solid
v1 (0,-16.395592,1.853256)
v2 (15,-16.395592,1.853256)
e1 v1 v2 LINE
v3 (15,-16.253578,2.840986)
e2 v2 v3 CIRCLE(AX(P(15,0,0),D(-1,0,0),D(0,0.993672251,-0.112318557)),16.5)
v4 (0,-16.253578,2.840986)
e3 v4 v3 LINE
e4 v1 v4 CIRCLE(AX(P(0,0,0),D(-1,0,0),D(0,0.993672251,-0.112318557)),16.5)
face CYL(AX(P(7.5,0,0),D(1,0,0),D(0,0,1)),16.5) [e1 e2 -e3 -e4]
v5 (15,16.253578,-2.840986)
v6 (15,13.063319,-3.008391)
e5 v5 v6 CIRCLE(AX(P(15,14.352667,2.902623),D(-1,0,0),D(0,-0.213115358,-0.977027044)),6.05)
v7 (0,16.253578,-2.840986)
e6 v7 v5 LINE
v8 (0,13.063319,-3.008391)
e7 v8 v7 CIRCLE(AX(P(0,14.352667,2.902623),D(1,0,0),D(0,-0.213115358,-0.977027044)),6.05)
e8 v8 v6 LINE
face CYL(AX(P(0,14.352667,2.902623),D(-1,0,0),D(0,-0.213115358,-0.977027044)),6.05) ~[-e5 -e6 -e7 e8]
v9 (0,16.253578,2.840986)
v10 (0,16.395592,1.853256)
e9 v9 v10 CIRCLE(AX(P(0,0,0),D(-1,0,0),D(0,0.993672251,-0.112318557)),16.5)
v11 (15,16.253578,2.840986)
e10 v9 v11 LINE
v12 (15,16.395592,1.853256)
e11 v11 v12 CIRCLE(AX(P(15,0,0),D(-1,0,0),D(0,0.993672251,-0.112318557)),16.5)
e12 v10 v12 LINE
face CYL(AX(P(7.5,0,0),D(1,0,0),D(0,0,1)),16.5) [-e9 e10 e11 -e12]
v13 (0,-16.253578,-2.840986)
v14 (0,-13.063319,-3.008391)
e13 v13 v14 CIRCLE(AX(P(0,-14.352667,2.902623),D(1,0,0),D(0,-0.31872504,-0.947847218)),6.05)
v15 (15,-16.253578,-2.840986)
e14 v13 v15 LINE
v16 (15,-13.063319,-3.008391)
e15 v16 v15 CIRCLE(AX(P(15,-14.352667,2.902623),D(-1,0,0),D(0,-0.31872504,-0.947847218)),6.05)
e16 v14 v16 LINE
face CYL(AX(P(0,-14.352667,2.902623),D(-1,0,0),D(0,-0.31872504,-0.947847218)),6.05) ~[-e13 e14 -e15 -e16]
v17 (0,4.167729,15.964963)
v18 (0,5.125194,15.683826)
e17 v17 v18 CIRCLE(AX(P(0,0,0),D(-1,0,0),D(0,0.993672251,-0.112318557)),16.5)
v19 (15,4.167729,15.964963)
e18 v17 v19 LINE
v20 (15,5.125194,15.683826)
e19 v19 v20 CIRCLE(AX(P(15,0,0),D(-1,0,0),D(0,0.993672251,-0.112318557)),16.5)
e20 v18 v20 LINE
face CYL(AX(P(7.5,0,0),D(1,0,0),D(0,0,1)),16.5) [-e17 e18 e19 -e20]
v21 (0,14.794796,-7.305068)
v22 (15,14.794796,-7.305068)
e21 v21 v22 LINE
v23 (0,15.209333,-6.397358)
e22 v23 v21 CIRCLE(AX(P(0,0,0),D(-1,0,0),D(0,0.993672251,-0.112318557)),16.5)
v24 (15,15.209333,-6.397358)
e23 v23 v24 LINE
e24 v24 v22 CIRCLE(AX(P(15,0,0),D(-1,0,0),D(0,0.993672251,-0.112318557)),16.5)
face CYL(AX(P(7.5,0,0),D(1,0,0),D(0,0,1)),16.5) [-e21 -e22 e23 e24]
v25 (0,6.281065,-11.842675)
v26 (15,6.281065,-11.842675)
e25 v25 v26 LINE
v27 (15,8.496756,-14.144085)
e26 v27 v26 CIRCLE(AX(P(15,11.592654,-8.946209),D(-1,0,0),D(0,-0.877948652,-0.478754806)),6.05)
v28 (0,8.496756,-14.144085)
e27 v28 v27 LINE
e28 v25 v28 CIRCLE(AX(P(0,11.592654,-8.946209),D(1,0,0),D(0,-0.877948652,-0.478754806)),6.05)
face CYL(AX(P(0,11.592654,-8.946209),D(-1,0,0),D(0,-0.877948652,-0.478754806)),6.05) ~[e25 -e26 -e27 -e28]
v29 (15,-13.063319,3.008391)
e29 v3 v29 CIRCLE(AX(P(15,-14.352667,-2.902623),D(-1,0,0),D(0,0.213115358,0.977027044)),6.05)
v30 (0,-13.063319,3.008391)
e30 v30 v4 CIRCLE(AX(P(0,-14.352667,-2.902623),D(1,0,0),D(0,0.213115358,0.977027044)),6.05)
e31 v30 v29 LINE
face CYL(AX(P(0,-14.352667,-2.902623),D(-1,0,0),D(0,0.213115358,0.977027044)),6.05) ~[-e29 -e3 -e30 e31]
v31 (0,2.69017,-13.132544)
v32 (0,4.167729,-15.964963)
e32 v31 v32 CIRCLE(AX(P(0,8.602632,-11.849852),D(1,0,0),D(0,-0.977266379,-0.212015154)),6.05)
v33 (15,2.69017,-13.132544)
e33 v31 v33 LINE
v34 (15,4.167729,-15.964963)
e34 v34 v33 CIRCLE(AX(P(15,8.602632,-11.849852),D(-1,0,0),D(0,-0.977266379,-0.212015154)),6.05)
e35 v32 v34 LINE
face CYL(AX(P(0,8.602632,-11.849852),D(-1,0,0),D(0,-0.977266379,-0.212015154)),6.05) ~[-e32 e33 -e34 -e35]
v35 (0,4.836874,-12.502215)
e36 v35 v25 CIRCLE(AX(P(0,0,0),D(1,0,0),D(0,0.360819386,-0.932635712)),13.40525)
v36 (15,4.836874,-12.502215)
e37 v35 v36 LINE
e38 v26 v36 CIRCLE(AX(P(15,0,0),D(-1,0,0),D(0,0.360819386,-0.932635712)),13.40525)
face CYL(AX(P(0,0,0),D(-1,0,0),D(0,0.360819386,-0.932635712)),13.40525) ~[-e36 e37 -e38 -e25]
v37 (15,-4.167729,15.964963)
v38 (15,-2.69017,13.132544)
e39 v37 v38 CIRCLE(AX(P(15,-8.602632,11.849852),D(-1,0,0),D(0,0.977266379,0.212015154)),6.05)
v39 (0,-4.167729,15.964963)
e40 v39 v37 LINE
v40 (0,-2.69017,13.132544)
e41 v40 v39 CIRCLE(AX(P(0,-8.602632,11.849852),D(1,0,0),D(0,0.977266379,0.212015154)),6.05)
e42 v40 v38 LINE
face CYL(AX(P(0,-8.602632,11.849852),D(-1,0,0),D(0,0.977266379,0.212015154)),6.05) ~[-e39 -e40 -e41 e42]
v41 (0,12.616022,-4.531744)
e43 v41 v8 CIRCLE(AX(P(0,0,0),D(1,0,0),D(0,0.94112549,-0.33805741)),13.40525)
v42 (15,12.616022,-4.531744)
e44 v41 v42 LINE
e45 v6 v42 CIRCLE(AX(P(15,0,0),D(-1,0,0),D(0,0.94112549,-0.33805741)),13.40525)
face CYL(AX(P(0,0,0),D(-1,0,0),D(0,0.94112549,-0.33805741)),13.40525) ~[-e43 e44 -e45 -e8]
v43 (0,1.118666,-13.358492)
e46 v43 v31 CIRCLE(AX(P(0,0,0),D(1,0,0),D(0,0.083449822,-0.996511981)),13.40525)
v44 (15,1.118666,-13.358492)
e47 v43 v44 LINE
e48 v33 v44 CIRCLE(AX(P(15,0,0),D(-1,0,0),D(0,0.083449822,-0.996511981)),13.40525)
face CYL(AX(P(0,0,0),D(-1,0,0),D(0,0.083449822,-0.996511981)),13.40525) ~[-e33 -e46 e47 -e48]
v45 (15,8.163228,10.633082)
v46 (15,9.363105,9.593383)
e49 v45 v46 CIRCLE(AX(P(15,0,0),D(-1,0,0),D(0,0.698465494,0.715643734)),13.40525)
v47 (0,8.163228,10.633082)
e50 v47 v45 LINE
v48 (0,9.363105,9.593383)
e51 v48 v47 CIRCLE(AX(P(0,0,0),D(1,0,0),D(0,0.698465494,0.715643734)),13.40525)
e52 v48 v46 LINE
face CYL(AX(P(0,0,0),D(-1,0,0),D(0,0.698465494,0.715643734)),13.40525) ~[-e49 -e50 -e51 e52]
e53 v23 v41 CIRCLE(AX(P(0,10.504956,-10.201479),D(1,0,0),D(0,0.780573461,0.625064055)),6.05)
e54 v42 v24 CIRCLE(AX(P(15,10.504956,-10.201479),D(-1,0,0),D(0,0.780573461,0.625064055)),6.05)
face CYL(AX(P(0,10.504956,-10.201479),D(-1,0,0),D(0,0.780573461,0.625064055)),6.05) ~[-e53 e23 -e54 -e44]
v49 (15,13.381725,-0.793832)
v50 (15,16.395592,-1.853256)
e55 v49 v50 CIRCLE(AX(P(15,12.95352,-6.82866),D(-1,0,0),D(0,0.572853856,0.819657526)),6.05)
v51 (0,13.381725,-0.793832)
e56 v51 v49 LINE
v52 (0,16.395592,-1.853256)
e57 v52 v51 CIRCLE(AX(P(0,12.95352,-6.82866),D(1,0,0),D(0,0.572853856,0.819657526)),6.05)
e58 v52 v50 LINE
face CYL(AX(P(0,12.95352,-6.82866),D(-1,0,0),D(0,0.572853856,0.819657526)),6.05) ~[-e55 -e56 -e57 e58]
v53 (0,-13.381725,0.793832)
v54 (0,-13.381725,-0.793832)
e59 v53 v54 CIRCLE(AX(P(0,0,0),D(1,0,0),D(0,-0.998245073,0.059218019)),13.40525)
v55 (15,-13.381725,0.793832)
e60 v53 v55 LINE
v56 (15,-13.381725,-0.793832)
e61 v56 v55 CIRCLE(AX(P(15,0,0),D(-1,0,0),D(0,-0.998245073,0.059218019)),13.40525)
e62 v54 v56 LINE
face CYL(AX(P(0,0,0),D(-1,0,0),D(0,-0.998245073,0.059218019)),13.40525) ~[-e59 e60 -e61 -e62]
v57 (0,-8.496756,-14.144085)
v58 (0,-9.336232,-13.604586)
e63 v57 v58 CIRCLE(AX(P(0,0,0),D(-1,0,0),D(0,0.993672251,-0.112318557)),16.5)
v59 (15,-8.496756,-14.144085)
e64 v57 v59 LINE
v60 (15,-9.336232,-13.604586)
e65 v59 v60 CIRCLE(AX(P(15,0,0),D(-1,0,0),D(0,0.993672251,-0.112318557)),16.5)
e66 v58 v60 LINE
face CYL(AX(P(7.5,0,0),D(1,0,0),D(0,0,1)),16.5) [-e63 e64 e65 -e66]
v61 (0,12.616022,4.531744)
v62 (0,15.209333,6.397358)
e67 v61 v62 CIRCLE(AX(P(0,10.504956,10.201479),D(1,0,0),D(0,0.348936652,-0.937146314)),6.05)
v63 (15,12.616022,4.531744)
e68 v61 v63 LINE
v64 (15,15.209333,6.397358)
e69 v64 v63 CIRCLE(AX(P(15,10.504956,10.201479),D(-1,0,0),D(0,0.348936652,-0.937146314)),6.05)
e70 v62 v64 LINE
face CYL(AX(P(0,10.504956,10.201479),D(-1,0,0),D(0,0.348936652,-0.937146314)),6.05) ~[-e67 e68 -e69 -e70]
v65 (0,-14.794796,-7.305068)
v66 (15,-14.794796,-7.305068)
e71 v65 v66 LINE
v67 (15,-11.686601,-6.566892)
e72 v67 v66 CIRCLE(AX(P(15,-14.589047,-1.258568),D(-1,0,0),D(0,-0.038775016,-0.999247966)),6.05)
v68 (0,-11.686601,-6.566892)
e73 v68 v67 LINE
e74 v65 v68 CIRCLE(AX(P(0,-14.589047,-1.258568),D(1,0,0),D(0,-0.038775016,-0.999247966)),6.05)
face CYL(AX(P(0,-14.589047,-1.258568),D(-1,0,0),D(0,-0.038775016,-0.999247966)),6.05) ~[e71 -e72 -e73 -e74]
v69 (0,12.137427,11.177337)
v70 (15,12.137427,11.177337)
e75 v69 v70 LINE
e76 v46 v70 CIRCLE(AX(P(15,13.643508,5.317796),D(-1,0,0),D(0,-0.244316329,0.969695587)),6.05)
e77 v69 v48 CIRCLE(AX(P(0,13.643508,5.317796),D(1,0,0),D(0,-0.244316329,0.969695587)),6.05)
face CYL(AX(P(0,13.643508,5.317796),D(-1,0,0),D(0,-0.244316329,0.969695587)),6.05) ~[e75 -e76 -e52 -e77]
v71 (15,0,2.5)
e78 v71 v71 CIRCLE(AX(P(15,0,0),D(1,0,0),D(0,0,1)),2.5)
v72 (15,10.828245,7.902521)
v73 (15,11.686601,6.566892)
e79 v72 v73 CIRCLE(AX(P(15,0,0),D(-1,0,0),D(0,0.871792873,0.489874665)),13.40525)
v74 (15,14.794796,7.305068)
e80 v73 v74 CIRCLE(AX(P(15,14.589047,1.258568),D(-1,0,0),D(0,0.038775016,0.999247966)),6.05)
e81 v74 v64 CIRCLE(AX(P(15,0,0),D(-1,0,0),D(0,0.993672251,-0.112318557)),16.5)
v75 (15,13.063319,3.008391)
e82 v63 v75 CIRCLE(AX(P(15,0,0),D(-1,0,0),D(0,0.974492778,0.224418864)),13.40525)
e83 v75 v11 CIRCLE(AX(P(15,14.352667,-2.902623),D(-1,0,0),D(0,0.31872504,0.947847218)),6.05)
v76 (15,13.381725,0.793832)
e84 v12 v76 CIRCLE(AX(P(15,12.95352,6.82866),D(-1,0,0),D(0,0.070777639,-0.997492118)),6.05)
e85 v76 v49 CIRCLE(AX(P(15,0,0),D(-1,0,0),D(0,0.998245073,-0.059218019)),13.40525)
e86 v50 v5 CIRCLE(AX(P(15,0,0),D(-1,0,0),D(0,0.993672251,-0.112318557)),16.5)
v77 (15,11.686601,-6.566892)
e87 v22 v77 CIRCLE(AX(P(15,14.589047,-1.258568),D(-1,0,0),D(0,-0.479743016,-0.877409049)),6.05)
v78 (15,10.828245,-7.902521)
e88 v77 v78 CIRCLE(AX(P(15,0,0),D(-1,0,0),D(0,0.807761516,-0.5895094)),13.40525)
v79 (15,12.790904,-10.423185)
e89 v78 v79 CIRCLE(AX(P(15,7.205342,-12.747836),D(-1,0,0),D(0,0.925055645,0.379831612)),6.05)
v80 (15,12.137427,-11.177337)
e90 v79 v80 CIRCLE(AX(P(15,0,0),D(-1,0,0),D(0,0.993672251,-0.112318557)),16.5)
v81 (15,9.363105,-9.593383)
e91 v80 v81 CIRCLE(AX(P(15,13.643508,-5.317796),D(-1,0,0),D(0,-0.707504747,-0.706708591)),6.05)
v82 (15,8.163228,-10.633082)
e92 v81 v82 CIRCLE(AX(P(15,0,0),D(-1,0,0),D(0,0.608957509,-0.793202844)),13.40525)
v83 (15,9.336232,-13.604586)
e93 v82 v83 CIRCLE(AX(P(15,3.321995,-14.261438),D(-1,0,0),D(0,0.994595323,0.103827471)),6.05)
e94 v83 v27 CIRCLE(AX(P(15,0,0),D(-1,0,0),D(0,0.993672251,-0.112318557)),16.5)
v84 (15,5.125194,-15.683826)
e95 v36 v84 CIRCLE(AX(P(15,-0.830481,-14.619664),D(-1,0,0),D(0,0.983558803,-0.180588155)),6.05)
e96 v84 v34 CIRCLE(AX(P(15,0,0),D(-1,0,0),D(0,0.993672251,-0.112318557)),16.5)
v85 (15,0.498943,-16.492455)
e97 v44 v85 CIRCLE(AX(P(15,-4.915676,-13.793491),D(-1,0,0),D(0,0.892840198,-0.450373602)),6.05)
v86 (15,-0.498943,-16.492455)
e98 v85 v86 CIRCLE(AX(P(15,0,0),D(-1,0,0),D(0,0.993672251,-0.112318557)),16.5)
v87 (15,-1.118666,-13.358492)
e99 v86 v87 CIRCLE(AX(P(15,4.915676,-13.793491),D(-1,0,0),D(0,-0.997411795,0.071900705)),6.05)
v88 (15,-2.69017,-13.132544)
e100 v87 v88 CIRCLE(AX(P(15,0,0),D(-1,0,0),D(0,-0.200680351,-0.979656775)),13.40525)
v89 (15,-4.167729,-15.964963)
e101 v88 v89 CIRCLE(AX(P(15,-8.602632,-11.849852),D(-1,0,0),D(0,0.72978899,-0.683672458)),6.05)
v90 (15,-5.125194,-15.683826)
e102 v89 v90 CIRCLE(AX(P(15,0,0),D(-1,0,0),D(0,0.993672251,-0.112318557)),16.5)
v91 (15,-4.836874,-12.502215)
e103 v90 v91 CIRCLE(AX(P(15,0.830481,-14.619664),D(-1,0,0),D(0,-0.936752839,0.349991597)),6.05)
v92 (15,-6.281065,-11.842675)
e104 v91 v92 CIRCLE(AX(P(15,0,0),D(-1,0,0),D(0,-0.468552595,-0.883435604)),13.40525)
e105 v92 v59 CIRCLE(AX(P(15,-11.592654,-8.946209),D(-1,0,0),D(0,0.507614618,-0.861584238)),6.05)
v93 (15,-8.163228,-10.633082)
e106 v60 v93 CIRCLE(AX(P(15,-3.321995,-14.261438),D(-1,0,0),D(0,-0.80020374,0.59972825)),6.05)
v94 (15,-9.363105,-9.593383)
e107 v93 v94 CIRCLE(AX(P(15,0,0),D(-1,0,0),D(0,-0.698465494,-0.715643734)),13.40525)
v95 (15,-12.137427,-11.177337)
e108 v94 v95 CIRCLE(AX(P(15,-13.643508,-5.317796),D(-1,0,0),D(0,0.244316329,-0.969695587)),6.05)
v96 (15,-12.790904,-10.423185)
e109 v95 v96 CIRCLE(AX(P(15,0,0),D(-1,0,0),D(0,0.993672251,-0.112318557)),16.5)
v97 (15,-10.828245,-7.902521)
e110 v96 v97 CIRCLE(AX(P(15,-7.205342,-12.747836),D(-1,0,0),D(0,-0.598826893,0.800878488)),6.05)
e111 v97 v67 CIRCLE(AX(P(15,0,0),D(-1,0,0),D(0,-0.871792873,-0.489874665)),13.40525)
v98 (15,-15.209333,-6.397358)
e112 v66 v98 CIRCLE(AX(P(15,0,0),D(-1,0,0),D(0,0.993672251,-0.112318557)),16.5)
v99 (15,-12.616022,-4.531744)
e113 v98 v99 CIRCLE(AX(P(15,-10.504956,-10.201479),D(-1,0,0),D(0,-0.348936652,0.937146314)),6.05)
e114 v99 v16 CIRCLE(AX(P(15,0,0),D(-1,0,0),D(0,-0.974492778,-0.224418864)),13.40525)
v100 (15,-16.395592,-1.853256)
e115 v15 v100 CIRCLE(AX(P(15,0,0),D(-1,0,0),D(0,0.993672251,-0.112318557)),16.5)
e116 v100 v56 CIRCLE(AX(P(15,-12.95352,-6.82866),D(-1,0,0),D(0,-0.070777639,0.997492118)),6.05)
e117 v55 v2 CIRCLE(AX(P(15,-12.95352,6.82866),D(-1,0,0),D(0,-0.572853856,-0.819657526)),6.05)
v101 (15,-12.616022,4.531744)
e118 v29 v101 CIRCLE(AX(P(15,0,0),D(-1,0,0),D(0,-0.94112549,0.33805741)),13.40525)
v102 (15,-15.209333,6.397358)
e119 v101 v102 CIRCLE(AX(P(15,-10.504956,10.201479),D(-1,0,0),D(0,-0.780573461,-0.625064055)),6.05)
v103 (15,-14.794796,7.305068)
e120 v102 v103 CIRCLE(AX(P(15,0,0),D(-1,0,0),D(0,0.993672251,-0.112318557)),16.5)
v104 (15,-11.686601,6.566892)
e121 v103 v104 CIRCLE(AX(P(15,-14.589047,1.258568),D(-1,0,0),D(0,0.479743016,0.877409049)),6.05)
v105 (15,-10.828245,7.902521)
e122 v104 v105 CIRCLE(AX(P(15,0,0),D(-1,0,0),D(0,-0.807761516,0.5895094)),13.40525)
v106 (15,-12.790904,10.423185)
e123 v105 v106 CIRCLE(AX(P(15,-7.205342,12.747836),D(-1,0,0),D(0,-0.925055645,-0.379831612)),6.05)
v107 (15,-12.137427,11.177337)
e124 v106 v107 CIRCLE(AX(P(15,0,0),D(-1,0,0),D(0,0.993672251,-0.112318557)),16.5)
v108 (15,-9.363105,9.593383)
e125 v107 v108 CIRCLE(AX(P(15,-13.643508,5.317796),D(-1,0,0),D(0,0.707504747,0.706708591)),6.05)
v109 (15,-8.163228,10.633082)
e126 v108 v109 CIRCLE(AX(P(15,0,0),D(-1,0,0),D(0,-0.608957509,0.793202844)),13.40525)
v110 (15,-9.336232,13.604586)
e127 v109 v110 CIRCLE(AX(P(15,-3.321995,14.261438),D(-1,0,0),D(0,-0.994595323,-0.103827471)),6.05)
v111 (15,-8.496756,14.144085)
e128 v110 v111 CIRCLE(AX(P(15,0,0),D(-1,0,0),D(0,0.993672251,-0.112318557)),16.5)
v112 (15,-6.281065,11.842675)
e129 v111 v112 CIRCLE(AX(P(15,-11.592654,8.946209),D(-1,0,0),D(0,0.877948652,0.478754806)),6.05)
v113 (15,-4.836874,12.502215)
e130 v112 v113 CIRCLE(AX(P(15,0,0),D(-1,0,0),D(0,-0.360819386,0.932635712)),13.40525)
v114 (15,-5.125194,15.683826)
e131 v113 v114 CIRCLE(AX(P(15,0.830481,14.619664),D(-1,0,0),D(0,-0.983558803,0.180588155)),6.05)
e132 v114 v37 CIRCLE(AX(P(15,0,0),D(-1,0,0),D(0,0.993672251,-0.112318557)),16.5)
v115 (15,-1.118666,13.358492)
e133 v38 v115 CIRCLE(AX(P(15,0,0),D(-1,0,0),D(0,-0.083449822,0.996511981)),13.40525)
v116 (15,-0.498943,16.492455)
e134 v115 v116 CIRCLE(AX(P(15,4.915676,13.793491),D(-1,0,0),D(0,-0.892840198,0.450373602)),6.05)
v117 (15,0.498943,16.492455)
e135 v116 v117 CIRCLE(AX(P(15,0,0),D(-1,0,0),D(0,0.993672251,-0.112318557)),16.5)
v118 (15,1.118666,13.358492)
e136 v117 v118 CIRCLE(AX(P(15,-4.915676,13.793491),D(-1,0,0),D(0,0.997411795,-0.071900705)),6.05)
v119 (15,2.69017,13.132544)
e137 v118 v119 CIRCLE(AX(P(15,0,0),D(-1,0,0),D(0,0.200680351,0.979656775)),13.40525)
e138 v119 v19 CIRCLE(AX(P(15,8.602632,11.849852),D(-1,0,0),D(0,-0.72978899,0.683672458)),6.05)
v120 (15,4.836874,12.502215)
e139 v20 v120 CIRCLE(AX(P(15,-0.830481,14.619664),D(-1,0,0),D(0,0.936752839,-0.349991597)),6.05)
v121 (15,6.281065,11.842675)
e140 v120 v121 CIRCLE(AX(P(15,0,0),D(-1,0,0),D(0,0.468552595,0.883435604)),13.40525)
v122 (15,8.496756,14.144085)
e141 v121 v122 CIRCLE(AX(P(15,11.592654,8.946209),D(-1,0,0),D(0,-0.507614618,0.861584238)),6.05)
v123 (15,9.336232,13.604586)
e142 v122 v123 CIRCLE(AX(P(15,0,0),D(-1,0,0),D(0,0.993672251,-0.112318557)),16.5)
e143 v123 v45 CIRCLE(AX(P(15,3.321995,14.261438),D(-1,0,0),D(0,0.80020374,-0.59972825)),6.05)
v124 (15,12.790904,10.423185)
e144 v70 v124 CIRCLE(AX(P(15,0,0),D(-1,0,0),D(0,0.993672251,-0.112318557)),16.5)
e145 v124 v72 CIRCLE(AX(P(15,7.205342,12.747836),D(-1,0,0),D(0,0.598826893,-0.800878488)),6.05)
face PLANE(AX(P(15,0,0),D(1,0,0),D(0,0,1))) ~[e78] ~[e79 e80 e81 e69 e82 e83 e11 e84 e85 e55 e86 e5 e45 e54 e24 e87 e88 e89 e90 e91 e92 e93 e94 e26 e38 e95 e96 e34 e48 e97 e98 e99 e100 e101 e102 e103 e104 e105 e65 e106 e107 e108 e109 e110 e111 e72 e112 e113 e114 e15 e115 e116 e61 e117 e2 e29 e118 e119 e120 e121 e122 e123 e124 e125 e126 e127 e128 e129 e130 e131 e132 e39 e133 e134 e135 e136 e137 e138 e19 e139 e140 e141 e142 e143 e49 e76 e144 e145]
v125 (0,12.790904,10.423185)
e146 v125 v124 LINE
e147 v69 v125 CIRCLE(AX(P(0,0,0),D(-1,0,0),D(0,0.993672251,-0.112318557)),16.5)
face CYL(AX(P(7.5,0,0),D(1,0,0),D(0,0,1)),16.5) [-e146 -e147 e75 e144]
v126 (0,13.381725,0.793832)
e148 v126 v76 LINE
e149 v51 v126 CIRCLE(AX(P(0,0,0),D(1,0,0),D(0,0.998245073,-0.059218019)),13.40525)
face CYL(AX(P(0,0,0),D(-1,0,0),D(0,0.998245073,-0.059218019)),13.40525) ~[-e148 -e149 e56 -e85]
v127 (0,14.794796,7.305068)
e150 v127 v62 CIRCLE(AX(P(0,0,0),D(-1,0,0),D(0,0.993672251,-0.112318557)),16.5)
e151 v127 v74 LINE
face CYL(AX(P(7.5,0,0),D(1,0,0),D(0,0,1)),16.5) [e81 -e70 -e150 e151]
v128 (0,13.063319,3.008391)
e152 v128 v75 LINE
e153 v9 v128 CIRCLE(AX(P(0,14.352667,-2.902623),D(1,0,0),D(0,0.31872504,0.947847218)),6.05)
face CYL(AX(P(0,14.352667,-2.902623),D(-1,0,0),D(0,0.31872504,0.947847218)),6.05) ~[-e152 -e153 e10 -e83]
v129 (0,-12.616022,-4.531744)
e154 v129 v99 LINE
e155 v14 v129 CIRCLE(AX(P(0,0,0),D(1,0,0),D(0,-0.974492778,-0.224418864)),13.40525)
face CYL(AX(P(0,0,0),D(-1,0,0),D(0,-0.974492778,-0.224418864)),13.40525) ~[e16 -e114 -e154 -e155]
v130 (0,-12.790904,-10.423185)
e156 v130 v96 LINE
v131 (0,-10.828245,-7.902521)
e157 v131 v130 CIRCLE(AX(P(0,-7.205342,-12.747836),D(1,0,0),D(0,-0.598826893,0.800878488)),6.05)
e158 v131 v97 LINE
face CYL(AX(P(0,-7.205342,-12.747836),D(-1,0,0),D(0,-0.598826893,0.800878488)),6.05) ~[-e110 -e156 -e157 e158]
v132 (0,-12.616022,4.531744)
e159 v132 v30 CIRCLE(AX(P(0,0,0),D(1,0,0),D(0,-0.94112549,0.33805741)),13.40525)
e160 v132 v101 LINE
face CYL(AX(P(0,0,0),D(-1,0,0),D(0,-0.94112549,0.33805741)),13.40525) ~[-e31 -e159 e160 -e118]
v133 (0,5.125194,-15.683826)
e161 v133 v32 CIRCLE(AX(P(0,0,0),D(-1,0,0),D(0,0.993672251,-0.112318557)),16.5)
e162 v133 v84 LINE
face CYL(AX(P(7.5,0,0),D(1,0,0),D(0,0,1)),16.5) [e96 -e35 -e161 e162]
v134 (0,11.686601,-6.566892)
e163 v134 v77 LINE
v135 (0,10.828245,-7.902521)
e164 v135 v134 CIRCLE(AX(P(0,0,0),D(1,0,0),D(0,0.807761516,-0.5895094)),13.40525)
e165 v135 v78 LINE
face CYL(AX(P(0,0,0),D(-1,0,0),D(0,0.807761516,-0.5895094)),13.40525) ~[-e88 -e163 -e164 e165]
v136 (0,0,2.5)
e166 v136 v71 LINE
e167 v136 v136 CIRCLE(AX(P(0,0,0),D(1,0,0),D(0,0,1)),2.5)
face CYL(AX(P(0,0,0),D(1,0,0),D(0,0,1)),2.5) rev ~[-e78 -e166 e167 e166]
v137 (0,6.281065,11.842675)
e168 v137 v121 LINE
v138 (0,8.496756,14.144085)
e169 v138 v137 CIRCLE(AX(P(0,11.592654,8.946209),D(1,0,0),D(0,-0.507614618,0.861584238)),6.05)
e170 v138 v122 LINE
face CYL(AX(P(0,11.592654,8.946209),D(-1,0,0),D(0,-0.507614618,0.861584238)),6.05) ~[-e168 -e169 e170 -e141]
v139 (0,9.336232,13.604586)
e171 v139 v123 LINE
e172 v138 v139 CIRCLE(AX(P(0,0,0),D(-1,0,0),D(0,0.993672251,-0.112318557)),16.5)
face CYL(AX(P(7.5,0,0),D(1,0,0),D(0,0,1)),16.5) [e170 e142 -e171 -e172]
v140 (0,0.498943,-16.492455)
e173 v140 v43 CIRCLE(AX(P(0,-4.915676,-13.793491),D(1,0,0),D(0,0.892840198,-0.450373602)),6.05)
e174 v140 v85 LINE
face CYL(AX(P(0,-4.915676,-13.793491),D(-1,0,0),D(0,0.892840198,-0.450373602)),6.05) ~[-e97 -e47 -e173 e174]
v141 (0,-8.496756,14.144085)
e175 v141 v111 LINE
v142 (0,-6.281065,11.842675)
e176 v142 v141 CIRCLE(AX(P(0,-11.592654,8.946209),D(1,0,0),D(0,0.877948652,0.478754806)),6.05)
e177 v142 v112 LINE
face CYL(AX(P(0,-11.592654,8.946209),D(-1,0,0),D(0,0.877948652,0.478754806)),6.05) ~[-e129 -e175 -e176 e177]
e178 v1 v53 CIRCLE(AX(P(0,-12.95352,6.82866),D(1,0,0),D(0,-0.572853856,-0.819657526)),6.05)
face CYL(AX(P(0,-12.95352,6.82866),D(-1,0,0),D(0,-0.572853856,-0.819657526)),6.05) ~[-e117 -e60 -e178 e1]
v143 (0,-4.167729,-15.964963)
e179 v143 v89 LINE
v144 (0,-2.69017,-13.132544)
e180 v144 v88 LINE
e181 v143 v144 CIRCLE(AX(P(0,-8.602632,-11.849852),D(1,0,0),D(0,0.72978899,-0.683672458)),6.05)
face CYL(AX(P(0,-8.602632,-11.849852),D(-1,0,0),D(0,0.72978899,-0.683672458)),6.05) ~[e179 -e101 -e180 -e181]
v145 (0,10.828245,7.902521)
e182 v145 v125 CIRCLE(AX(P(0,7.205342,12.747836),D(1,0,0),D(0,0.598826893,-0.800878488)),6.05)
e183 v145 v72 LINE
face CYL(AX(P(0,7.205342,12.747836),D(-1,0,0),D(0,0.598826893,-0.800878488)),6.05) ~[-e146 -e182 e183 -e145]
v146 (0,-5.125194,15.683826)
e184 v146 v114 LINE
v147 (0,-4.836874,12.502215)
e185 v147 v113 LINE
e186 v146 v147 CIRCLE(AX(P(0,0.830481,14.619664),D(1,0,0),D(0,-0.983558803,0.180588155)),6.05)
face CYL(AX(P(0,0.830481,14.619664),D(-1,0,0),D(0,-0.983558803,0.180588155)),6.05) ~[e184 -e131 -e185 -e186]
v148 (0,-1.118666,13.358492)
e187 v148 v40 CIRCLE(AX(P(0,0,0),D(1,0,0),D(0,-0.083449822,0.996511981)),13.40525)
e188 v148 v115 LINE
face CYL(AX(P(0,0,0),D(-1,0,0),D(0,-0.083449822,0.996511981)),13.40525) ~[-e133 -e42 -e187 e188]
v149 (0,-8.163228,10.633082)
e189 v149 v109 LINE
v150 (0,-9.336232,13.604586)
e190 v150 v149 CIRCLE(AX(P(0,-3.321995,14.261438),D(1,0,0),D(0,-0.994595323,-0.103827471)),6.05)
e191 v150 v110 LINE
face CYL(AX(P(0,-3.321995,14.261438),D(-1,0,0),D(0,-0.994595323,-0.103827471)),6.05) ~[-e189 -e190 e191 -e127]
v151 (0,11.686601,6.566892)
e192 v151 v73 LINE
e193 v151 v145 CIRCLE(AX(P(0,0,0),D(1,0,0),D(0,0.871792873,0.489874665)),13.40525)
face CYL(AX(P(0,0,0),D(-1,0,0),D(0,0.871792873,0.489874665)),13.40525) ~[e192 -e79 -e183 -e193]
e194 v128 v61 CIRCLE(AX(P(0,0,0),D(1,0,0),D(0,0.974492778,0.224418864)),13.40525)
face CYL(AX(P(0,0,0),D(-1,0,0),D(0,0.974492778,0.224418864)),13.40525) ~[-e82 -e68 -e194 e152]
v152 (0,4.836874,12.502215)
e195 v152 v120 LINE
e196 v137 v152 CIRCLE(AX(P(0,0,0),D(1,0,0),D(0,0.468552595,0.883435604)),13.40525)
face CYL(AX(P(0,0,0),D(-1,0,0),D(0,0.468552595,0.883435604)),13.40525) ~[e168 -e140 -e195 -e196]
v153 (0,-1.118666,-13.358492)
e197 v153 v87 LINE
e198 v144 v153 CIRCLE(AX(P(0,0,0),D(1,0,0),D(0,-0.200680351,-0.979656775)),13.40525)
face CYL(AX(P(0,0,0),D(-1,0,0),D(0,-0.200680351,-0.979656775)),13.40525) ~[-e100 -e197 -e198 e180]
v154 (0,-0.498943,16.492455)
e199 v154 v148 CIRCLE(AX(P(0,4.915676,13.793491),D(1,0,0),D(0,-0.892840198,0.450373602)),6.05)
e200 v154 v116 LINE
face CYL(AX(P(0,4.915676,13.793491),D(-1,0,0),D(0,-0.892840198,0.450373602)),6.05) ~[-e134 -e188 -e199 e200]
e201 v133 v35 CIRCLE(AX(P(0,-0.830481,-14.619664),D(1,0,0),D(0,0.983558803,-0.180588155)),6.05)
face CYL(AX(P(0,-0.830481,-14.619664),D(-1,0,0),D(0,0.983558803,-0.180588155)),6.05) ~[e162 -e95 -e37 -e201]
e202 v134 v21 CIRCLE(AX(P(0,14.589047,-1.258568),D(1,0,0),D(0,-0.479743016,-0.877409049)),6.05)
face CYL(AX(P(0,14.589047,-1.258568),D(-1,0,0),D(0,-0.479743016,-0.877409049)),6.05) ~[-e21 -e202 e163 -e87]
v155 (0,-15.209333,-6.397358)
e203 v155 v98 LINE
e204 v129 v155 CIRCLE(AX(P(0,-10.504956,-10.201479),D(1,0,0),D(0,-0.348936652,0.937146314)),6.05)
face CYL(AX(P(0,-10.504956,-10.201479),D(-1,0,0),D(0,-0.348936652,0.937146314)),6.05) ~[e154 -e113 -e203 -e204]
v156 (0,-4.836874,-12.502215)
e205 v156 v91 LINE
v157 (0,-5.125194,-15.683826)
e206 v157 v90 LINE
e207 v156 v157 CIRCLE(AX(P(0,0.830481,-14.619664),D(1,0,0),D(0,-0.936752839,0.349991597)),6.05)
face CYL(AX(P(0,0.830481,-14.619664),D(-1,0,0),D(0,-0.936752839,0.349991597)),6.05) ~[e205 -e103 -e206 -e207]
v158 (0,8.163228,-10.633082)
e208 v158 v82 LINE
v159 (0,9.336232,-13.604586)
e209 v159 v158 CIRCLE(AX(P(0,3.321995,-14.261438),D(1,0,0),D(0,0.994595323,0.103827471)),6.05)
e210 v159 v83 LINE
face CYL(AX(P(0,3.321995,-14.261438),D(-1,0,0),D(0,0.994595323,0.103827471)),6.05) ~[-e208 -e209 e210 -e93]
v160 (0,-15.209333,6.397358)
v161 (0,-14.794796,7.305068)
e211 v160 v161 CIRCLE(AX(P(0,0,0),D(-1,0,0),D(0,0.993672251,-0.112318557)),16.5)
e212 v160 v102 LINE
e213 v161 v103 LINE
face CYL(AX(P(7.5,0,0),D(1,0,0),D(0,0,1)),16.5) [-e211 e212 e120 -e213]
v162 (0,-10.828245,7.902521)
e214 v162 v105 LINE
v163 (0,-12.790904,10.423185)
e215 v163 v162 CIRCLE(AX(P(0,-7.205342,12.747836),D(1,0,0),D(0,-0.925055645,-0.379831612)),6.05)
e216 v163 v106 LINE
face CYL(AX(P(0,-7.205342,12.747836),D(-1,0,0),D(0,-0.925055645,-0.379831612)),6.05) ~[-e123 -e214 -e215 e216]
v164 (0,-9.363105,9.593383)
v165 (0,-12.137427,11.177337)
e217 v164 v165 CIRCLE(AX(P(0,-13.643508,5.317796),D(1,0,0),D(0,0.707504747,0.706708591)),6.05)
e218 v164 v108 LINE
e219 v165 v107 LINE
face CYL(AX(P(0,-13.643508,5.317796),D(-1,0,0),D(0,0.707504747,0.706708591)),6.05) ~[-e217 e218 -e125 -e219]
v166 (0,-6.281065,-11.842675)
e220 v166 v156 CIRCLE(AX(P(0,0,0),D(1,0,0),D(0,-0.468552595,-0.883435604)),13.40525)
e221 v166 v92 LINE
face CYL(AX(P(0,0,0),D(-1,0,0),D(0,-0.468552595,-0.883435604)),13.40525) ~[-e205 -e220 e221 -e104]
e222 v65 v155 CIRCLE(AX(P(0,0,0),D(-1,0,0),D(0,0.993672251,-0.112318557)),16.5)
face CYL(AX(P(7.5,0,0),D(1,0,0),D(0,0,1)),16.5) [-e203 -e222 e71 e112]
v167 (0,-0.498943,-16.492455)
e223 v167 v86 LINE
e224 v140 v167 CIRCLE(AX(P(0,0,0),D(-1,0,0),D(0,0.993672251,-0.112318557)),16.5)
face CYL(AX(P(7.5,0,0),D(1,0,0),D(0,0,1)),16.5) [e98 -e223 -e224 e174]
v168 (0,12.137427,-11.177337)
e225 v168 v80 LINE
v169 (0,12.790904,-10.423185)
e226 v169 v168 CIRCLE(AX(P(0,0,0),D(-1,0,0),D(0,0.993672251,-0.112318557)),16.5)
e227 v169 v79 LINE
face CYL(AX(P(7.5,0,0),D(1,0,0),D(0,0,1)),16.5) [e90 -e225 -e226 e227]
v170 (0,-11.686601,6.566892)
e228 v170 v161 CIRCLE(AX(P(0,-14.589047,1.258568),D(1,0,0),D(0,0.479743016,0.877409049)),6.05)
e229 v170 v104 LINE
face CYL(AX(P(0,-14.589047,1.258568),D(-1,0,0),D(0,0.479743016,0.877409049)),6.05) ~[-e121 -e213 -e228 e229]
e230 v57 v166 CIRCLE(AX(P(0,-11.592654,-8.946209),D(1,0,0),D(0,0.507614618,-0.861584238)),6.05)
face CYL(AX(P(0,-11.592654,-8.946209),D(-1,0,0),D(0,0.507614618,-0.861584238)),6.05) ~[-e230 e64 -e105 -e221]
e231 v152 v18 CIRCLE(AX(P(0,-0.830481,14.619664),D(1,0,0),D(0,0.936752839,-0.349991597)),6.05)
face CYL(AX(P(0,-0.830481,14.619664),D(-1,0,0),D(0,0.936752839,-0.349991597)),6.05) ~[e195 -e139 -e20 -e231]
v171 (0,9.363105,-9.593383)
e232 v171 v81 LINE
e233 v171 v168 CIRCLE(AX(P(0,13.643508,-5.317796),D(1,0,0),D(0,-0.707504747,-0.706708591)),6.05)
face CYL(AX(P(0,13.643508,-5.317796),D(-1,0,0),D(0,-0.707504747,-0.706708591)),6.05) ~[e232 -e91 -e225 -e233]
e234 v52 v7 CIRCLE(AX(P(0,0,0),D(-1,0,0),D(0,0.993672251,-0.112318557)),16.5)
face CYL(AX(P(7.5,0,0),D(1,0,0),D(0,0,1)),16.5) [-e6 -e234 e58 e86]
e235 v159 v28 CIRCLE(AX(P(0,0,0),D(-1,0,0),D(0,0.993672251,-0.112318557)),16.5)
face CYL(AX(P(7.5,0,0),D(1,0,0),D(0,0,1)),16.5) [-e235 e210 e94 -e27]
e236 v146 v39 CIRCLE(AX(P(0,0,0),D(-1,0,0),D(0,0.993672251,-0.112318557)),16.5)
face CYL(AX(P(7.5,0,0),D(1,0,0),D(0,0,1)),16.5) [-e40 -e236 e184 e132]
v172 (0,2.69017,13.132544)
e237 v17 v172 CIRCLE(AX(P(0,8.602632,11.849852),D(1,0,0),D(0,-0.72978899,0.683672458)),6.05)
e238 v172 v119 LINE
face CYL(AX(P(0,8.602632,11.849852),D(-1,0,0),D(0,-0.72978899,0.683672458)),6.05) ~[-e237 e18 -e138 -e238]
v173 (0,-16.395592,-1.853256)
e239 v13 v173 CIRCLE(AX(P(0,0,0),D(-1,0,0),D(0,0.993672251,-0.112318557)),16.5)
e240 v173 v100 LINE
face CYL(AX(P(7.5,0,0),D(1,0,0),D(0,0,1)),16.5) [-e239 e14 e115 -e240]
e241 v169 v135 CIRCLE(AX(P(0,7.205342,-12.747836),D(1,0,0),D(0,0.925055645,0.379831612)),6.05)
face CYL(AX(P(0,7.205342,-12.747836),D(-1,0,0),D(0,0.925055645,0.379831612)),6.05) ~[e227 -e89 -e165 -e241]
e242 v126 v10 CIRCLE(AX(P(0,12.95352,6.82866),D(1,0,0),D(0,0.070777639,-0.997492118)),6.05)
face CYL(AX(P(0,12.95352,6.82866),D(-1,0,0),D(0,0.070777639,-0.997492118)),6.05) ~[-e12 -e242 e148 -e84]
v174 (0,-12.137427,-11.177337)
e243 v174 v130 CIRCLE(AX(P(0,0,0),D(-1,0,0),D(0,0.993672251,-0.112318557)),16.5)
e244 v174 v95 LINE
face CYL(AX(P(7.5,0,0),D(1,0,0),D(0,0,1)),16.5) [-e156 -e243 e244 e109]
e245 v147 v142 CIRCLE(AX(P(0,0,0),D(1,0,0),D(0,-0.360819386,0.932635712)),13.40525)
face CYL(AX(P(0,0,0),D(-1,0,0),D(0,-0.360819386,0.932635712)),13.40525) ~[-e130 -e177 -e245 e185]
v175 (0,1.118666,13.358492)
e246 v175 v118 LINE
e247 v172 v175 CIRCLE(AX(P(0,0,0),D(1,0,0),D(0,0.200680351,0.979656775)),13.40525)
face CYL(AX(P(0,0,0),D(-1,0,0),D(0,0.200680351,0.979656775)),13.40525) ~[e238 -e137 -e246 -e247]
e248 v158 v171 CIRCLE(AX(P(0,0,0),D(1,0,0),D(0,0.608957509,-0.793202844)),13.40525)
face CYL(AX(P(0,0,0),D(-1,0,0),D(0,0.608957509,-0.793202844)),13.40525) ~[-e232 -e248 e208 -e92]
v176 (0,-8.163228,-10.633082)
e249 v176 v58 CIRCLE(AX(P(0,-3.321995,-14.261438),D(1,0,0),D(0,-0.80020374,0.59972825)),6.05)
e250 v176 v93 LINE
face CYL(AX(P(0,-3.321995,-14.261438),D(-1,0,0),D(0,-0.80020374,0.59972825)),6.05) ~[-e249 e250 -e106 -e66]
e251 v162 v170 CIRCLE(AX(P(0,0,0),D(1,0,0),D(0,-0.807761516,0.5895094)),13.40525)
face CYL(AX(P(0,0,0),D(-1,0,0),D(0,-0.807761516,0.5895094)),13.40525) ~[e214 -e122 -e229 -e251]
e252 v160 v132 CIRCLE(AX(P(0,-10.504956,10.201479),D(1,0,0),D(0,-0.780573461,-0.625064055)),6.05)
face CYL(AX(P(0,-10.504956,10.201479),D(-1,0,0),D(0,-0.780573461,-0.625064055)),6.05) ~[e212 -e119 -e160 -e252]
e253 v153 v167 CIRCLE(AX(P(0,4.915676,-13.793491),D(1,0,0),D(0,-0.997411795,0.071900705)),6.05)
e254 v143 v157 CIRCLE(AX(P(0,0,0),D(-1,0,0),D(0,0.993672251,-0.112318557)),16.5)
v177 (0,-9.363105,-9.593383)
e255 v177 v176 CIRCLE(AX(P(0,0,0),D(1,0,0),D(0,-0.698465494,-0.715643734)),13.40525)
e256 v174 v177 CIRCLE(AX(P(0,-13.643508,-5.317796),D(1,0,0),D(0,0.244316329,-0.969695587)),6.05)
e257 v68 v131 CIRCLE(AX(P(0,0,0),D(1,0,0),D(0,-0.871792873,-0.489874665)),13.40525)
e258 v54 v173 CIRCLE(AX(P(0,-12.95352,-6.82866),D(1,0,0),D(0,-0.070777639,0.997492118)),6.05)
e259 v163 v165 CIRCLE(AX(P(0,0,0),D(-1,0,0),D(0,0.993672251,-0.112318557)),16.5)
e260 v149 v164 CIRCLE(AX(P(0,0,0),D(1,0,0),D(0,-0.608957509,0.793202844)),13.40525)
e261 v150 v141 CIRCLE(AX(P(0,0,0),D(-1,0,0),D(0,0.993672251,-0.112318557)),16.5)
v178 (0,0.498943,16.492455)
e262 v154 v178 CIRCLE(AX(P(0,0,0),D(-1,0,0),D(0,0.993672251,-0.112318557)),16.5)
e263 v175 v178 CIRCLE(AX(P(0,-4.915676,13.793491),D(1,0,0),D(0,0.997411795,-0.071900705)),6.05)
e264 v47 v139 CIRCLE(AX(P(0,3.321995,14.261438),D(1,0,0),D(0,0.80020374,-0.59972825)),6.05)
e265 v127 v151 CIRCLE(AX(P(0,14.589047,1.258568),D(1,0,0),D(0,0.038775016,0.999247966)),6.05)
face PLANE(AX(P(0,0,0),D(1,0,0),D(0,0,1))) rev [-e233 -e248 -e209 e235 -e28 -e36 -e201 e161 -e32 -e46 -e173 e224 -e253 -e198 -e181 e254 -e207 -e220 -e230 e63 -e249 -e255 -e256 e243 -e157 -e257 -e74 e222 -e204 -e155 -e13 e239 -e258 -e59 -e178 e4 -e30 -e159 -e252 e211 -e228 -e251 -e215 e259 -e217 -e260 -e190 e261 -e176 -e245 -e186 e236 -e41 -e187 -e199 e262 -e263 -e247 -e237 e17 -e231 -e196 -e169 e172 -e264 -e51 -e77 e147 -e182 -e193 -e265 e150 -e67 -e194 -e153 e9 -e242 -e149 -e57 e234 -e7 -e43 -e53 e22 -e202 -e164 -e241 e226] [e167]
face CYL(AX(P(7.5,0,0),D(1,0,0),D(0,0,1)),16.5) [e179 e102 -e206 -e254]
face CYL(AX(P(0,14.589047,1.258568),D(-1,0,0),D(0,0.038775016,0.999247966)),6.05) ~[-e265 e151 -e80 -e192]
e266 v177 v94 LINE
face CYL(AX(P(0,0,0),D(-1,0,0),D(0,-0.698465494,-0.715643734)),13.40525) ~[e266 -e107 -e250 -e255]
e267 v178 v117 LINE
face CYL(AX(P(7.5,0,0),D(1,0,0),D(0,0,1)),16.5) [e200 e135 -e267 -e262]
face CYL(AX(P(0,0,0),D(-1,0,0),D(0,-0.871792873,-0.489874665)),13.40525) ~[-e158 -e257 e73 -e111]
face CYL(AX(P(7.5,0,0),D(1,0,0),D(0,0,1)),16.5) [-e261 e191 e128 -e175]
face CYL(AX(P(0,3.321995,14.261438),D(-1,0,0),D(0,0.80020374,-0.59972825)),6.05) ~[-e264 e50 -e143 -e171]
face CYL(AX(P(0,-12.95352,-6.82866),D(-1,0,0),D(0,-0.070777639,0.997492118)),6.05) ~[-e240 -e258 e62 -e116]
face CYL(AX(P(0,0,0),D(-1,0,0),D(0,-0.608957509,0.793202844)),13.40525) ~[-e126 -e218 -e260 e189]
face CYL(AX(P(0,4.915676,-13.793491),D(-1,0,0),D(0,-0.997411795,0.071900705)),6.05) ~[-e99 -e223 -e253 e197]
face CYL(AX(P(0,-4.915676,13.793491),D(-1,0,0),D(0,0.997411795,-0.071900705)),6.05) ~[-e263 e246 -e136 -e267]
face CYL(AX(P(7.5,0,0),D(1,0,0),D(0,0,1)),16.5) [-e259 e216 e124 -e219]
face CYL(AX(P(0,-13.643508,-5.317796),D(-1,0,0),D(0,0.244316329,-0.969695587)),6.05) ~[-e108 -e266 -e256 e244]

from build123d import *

# Parameters (mm, degrees)
BASPROSKE_W     = 15
BASPROSKE_H     = 16.5
TOOTHCUT_DEPTH  = 28.739863013
TEETHCUTS_COUNT = 22
BORSKE_R        = 2.5
BORE_DEPTH      = 50.0000508


with BuildPart() as part:
    # BasProSke → Base-Revolve (revolve)
    with BuildSketch(Plane(origin=(0, 0, 0), x_dir=(1, 0, 0), z_dir=(0, 1, 0)), mode=Mode.PRIVATE) as base_revolve_sk:
        with Locations((7.5, 8.25)):
            Rectangle(BASPROSKE_W, BASPROSKE_H)
    revolve(base_revolve_sk.sketch.rotate(Axis((-10, 0, 0), (1, 0, 0)), 180), axis=Axis((-10, 0, 0), (1, 0, 0)))

    # TooCutSke → ToothCut (cut, through all)
    with BuildSketch(Plane(origin=(0, 0, 0), x_dir=(0, 0, -1), z_dir=(1, 0, 0))):
        with BuildLine():
            ThreePointArc((0.79383235, 13.381724768), (0, 13.40525), (-0.79383235, 13.381724768))
            ThreePointArc((-0.79383235, 13.381724768), (-1.125821903, 14.973456057), (-1.869731633, 16.419285879))
            ThreePointArc((-1.869731633, 16.419285879), (0, 16.5254), (1.869731633, 16.419285879))
            ThreePointArc((1.869731633, 16.419285879), (1.125821903, 14.973456057), (0.79383235, 13.381724768))
        make_face()
    toothcut = extrude(amount=TOOTHCUT_DEPTH, mode=Mode.SUBTRACT)

    # TeethCuts: ToothCut ×22 about axis
    teethcuts_axis = Axis((0, 0, 0), (1, 0, 0))
    for i in range(1, TEETHCUTS_COUNT):
        add(toothcut.rotate(teethcuts_axis, i * 360 / TEETHCUTS_COUNT), mode=Mode.SUBTRACT)

    # BorSke → Bore (cut, symmetric)
    with BuildSketch(Plane(origin=(0, 0, 0), x_dir=(0, 0, -1), z_dir=(1, 0, 0))):
        with Locations(Location((0, 0, 0), (0, 0, 180))):
            Circle(BORSKE_R)
    extrude(amount=BORE_DEPTH, both=True, mode=Mode.SUBTRACT)


solid = part.part
